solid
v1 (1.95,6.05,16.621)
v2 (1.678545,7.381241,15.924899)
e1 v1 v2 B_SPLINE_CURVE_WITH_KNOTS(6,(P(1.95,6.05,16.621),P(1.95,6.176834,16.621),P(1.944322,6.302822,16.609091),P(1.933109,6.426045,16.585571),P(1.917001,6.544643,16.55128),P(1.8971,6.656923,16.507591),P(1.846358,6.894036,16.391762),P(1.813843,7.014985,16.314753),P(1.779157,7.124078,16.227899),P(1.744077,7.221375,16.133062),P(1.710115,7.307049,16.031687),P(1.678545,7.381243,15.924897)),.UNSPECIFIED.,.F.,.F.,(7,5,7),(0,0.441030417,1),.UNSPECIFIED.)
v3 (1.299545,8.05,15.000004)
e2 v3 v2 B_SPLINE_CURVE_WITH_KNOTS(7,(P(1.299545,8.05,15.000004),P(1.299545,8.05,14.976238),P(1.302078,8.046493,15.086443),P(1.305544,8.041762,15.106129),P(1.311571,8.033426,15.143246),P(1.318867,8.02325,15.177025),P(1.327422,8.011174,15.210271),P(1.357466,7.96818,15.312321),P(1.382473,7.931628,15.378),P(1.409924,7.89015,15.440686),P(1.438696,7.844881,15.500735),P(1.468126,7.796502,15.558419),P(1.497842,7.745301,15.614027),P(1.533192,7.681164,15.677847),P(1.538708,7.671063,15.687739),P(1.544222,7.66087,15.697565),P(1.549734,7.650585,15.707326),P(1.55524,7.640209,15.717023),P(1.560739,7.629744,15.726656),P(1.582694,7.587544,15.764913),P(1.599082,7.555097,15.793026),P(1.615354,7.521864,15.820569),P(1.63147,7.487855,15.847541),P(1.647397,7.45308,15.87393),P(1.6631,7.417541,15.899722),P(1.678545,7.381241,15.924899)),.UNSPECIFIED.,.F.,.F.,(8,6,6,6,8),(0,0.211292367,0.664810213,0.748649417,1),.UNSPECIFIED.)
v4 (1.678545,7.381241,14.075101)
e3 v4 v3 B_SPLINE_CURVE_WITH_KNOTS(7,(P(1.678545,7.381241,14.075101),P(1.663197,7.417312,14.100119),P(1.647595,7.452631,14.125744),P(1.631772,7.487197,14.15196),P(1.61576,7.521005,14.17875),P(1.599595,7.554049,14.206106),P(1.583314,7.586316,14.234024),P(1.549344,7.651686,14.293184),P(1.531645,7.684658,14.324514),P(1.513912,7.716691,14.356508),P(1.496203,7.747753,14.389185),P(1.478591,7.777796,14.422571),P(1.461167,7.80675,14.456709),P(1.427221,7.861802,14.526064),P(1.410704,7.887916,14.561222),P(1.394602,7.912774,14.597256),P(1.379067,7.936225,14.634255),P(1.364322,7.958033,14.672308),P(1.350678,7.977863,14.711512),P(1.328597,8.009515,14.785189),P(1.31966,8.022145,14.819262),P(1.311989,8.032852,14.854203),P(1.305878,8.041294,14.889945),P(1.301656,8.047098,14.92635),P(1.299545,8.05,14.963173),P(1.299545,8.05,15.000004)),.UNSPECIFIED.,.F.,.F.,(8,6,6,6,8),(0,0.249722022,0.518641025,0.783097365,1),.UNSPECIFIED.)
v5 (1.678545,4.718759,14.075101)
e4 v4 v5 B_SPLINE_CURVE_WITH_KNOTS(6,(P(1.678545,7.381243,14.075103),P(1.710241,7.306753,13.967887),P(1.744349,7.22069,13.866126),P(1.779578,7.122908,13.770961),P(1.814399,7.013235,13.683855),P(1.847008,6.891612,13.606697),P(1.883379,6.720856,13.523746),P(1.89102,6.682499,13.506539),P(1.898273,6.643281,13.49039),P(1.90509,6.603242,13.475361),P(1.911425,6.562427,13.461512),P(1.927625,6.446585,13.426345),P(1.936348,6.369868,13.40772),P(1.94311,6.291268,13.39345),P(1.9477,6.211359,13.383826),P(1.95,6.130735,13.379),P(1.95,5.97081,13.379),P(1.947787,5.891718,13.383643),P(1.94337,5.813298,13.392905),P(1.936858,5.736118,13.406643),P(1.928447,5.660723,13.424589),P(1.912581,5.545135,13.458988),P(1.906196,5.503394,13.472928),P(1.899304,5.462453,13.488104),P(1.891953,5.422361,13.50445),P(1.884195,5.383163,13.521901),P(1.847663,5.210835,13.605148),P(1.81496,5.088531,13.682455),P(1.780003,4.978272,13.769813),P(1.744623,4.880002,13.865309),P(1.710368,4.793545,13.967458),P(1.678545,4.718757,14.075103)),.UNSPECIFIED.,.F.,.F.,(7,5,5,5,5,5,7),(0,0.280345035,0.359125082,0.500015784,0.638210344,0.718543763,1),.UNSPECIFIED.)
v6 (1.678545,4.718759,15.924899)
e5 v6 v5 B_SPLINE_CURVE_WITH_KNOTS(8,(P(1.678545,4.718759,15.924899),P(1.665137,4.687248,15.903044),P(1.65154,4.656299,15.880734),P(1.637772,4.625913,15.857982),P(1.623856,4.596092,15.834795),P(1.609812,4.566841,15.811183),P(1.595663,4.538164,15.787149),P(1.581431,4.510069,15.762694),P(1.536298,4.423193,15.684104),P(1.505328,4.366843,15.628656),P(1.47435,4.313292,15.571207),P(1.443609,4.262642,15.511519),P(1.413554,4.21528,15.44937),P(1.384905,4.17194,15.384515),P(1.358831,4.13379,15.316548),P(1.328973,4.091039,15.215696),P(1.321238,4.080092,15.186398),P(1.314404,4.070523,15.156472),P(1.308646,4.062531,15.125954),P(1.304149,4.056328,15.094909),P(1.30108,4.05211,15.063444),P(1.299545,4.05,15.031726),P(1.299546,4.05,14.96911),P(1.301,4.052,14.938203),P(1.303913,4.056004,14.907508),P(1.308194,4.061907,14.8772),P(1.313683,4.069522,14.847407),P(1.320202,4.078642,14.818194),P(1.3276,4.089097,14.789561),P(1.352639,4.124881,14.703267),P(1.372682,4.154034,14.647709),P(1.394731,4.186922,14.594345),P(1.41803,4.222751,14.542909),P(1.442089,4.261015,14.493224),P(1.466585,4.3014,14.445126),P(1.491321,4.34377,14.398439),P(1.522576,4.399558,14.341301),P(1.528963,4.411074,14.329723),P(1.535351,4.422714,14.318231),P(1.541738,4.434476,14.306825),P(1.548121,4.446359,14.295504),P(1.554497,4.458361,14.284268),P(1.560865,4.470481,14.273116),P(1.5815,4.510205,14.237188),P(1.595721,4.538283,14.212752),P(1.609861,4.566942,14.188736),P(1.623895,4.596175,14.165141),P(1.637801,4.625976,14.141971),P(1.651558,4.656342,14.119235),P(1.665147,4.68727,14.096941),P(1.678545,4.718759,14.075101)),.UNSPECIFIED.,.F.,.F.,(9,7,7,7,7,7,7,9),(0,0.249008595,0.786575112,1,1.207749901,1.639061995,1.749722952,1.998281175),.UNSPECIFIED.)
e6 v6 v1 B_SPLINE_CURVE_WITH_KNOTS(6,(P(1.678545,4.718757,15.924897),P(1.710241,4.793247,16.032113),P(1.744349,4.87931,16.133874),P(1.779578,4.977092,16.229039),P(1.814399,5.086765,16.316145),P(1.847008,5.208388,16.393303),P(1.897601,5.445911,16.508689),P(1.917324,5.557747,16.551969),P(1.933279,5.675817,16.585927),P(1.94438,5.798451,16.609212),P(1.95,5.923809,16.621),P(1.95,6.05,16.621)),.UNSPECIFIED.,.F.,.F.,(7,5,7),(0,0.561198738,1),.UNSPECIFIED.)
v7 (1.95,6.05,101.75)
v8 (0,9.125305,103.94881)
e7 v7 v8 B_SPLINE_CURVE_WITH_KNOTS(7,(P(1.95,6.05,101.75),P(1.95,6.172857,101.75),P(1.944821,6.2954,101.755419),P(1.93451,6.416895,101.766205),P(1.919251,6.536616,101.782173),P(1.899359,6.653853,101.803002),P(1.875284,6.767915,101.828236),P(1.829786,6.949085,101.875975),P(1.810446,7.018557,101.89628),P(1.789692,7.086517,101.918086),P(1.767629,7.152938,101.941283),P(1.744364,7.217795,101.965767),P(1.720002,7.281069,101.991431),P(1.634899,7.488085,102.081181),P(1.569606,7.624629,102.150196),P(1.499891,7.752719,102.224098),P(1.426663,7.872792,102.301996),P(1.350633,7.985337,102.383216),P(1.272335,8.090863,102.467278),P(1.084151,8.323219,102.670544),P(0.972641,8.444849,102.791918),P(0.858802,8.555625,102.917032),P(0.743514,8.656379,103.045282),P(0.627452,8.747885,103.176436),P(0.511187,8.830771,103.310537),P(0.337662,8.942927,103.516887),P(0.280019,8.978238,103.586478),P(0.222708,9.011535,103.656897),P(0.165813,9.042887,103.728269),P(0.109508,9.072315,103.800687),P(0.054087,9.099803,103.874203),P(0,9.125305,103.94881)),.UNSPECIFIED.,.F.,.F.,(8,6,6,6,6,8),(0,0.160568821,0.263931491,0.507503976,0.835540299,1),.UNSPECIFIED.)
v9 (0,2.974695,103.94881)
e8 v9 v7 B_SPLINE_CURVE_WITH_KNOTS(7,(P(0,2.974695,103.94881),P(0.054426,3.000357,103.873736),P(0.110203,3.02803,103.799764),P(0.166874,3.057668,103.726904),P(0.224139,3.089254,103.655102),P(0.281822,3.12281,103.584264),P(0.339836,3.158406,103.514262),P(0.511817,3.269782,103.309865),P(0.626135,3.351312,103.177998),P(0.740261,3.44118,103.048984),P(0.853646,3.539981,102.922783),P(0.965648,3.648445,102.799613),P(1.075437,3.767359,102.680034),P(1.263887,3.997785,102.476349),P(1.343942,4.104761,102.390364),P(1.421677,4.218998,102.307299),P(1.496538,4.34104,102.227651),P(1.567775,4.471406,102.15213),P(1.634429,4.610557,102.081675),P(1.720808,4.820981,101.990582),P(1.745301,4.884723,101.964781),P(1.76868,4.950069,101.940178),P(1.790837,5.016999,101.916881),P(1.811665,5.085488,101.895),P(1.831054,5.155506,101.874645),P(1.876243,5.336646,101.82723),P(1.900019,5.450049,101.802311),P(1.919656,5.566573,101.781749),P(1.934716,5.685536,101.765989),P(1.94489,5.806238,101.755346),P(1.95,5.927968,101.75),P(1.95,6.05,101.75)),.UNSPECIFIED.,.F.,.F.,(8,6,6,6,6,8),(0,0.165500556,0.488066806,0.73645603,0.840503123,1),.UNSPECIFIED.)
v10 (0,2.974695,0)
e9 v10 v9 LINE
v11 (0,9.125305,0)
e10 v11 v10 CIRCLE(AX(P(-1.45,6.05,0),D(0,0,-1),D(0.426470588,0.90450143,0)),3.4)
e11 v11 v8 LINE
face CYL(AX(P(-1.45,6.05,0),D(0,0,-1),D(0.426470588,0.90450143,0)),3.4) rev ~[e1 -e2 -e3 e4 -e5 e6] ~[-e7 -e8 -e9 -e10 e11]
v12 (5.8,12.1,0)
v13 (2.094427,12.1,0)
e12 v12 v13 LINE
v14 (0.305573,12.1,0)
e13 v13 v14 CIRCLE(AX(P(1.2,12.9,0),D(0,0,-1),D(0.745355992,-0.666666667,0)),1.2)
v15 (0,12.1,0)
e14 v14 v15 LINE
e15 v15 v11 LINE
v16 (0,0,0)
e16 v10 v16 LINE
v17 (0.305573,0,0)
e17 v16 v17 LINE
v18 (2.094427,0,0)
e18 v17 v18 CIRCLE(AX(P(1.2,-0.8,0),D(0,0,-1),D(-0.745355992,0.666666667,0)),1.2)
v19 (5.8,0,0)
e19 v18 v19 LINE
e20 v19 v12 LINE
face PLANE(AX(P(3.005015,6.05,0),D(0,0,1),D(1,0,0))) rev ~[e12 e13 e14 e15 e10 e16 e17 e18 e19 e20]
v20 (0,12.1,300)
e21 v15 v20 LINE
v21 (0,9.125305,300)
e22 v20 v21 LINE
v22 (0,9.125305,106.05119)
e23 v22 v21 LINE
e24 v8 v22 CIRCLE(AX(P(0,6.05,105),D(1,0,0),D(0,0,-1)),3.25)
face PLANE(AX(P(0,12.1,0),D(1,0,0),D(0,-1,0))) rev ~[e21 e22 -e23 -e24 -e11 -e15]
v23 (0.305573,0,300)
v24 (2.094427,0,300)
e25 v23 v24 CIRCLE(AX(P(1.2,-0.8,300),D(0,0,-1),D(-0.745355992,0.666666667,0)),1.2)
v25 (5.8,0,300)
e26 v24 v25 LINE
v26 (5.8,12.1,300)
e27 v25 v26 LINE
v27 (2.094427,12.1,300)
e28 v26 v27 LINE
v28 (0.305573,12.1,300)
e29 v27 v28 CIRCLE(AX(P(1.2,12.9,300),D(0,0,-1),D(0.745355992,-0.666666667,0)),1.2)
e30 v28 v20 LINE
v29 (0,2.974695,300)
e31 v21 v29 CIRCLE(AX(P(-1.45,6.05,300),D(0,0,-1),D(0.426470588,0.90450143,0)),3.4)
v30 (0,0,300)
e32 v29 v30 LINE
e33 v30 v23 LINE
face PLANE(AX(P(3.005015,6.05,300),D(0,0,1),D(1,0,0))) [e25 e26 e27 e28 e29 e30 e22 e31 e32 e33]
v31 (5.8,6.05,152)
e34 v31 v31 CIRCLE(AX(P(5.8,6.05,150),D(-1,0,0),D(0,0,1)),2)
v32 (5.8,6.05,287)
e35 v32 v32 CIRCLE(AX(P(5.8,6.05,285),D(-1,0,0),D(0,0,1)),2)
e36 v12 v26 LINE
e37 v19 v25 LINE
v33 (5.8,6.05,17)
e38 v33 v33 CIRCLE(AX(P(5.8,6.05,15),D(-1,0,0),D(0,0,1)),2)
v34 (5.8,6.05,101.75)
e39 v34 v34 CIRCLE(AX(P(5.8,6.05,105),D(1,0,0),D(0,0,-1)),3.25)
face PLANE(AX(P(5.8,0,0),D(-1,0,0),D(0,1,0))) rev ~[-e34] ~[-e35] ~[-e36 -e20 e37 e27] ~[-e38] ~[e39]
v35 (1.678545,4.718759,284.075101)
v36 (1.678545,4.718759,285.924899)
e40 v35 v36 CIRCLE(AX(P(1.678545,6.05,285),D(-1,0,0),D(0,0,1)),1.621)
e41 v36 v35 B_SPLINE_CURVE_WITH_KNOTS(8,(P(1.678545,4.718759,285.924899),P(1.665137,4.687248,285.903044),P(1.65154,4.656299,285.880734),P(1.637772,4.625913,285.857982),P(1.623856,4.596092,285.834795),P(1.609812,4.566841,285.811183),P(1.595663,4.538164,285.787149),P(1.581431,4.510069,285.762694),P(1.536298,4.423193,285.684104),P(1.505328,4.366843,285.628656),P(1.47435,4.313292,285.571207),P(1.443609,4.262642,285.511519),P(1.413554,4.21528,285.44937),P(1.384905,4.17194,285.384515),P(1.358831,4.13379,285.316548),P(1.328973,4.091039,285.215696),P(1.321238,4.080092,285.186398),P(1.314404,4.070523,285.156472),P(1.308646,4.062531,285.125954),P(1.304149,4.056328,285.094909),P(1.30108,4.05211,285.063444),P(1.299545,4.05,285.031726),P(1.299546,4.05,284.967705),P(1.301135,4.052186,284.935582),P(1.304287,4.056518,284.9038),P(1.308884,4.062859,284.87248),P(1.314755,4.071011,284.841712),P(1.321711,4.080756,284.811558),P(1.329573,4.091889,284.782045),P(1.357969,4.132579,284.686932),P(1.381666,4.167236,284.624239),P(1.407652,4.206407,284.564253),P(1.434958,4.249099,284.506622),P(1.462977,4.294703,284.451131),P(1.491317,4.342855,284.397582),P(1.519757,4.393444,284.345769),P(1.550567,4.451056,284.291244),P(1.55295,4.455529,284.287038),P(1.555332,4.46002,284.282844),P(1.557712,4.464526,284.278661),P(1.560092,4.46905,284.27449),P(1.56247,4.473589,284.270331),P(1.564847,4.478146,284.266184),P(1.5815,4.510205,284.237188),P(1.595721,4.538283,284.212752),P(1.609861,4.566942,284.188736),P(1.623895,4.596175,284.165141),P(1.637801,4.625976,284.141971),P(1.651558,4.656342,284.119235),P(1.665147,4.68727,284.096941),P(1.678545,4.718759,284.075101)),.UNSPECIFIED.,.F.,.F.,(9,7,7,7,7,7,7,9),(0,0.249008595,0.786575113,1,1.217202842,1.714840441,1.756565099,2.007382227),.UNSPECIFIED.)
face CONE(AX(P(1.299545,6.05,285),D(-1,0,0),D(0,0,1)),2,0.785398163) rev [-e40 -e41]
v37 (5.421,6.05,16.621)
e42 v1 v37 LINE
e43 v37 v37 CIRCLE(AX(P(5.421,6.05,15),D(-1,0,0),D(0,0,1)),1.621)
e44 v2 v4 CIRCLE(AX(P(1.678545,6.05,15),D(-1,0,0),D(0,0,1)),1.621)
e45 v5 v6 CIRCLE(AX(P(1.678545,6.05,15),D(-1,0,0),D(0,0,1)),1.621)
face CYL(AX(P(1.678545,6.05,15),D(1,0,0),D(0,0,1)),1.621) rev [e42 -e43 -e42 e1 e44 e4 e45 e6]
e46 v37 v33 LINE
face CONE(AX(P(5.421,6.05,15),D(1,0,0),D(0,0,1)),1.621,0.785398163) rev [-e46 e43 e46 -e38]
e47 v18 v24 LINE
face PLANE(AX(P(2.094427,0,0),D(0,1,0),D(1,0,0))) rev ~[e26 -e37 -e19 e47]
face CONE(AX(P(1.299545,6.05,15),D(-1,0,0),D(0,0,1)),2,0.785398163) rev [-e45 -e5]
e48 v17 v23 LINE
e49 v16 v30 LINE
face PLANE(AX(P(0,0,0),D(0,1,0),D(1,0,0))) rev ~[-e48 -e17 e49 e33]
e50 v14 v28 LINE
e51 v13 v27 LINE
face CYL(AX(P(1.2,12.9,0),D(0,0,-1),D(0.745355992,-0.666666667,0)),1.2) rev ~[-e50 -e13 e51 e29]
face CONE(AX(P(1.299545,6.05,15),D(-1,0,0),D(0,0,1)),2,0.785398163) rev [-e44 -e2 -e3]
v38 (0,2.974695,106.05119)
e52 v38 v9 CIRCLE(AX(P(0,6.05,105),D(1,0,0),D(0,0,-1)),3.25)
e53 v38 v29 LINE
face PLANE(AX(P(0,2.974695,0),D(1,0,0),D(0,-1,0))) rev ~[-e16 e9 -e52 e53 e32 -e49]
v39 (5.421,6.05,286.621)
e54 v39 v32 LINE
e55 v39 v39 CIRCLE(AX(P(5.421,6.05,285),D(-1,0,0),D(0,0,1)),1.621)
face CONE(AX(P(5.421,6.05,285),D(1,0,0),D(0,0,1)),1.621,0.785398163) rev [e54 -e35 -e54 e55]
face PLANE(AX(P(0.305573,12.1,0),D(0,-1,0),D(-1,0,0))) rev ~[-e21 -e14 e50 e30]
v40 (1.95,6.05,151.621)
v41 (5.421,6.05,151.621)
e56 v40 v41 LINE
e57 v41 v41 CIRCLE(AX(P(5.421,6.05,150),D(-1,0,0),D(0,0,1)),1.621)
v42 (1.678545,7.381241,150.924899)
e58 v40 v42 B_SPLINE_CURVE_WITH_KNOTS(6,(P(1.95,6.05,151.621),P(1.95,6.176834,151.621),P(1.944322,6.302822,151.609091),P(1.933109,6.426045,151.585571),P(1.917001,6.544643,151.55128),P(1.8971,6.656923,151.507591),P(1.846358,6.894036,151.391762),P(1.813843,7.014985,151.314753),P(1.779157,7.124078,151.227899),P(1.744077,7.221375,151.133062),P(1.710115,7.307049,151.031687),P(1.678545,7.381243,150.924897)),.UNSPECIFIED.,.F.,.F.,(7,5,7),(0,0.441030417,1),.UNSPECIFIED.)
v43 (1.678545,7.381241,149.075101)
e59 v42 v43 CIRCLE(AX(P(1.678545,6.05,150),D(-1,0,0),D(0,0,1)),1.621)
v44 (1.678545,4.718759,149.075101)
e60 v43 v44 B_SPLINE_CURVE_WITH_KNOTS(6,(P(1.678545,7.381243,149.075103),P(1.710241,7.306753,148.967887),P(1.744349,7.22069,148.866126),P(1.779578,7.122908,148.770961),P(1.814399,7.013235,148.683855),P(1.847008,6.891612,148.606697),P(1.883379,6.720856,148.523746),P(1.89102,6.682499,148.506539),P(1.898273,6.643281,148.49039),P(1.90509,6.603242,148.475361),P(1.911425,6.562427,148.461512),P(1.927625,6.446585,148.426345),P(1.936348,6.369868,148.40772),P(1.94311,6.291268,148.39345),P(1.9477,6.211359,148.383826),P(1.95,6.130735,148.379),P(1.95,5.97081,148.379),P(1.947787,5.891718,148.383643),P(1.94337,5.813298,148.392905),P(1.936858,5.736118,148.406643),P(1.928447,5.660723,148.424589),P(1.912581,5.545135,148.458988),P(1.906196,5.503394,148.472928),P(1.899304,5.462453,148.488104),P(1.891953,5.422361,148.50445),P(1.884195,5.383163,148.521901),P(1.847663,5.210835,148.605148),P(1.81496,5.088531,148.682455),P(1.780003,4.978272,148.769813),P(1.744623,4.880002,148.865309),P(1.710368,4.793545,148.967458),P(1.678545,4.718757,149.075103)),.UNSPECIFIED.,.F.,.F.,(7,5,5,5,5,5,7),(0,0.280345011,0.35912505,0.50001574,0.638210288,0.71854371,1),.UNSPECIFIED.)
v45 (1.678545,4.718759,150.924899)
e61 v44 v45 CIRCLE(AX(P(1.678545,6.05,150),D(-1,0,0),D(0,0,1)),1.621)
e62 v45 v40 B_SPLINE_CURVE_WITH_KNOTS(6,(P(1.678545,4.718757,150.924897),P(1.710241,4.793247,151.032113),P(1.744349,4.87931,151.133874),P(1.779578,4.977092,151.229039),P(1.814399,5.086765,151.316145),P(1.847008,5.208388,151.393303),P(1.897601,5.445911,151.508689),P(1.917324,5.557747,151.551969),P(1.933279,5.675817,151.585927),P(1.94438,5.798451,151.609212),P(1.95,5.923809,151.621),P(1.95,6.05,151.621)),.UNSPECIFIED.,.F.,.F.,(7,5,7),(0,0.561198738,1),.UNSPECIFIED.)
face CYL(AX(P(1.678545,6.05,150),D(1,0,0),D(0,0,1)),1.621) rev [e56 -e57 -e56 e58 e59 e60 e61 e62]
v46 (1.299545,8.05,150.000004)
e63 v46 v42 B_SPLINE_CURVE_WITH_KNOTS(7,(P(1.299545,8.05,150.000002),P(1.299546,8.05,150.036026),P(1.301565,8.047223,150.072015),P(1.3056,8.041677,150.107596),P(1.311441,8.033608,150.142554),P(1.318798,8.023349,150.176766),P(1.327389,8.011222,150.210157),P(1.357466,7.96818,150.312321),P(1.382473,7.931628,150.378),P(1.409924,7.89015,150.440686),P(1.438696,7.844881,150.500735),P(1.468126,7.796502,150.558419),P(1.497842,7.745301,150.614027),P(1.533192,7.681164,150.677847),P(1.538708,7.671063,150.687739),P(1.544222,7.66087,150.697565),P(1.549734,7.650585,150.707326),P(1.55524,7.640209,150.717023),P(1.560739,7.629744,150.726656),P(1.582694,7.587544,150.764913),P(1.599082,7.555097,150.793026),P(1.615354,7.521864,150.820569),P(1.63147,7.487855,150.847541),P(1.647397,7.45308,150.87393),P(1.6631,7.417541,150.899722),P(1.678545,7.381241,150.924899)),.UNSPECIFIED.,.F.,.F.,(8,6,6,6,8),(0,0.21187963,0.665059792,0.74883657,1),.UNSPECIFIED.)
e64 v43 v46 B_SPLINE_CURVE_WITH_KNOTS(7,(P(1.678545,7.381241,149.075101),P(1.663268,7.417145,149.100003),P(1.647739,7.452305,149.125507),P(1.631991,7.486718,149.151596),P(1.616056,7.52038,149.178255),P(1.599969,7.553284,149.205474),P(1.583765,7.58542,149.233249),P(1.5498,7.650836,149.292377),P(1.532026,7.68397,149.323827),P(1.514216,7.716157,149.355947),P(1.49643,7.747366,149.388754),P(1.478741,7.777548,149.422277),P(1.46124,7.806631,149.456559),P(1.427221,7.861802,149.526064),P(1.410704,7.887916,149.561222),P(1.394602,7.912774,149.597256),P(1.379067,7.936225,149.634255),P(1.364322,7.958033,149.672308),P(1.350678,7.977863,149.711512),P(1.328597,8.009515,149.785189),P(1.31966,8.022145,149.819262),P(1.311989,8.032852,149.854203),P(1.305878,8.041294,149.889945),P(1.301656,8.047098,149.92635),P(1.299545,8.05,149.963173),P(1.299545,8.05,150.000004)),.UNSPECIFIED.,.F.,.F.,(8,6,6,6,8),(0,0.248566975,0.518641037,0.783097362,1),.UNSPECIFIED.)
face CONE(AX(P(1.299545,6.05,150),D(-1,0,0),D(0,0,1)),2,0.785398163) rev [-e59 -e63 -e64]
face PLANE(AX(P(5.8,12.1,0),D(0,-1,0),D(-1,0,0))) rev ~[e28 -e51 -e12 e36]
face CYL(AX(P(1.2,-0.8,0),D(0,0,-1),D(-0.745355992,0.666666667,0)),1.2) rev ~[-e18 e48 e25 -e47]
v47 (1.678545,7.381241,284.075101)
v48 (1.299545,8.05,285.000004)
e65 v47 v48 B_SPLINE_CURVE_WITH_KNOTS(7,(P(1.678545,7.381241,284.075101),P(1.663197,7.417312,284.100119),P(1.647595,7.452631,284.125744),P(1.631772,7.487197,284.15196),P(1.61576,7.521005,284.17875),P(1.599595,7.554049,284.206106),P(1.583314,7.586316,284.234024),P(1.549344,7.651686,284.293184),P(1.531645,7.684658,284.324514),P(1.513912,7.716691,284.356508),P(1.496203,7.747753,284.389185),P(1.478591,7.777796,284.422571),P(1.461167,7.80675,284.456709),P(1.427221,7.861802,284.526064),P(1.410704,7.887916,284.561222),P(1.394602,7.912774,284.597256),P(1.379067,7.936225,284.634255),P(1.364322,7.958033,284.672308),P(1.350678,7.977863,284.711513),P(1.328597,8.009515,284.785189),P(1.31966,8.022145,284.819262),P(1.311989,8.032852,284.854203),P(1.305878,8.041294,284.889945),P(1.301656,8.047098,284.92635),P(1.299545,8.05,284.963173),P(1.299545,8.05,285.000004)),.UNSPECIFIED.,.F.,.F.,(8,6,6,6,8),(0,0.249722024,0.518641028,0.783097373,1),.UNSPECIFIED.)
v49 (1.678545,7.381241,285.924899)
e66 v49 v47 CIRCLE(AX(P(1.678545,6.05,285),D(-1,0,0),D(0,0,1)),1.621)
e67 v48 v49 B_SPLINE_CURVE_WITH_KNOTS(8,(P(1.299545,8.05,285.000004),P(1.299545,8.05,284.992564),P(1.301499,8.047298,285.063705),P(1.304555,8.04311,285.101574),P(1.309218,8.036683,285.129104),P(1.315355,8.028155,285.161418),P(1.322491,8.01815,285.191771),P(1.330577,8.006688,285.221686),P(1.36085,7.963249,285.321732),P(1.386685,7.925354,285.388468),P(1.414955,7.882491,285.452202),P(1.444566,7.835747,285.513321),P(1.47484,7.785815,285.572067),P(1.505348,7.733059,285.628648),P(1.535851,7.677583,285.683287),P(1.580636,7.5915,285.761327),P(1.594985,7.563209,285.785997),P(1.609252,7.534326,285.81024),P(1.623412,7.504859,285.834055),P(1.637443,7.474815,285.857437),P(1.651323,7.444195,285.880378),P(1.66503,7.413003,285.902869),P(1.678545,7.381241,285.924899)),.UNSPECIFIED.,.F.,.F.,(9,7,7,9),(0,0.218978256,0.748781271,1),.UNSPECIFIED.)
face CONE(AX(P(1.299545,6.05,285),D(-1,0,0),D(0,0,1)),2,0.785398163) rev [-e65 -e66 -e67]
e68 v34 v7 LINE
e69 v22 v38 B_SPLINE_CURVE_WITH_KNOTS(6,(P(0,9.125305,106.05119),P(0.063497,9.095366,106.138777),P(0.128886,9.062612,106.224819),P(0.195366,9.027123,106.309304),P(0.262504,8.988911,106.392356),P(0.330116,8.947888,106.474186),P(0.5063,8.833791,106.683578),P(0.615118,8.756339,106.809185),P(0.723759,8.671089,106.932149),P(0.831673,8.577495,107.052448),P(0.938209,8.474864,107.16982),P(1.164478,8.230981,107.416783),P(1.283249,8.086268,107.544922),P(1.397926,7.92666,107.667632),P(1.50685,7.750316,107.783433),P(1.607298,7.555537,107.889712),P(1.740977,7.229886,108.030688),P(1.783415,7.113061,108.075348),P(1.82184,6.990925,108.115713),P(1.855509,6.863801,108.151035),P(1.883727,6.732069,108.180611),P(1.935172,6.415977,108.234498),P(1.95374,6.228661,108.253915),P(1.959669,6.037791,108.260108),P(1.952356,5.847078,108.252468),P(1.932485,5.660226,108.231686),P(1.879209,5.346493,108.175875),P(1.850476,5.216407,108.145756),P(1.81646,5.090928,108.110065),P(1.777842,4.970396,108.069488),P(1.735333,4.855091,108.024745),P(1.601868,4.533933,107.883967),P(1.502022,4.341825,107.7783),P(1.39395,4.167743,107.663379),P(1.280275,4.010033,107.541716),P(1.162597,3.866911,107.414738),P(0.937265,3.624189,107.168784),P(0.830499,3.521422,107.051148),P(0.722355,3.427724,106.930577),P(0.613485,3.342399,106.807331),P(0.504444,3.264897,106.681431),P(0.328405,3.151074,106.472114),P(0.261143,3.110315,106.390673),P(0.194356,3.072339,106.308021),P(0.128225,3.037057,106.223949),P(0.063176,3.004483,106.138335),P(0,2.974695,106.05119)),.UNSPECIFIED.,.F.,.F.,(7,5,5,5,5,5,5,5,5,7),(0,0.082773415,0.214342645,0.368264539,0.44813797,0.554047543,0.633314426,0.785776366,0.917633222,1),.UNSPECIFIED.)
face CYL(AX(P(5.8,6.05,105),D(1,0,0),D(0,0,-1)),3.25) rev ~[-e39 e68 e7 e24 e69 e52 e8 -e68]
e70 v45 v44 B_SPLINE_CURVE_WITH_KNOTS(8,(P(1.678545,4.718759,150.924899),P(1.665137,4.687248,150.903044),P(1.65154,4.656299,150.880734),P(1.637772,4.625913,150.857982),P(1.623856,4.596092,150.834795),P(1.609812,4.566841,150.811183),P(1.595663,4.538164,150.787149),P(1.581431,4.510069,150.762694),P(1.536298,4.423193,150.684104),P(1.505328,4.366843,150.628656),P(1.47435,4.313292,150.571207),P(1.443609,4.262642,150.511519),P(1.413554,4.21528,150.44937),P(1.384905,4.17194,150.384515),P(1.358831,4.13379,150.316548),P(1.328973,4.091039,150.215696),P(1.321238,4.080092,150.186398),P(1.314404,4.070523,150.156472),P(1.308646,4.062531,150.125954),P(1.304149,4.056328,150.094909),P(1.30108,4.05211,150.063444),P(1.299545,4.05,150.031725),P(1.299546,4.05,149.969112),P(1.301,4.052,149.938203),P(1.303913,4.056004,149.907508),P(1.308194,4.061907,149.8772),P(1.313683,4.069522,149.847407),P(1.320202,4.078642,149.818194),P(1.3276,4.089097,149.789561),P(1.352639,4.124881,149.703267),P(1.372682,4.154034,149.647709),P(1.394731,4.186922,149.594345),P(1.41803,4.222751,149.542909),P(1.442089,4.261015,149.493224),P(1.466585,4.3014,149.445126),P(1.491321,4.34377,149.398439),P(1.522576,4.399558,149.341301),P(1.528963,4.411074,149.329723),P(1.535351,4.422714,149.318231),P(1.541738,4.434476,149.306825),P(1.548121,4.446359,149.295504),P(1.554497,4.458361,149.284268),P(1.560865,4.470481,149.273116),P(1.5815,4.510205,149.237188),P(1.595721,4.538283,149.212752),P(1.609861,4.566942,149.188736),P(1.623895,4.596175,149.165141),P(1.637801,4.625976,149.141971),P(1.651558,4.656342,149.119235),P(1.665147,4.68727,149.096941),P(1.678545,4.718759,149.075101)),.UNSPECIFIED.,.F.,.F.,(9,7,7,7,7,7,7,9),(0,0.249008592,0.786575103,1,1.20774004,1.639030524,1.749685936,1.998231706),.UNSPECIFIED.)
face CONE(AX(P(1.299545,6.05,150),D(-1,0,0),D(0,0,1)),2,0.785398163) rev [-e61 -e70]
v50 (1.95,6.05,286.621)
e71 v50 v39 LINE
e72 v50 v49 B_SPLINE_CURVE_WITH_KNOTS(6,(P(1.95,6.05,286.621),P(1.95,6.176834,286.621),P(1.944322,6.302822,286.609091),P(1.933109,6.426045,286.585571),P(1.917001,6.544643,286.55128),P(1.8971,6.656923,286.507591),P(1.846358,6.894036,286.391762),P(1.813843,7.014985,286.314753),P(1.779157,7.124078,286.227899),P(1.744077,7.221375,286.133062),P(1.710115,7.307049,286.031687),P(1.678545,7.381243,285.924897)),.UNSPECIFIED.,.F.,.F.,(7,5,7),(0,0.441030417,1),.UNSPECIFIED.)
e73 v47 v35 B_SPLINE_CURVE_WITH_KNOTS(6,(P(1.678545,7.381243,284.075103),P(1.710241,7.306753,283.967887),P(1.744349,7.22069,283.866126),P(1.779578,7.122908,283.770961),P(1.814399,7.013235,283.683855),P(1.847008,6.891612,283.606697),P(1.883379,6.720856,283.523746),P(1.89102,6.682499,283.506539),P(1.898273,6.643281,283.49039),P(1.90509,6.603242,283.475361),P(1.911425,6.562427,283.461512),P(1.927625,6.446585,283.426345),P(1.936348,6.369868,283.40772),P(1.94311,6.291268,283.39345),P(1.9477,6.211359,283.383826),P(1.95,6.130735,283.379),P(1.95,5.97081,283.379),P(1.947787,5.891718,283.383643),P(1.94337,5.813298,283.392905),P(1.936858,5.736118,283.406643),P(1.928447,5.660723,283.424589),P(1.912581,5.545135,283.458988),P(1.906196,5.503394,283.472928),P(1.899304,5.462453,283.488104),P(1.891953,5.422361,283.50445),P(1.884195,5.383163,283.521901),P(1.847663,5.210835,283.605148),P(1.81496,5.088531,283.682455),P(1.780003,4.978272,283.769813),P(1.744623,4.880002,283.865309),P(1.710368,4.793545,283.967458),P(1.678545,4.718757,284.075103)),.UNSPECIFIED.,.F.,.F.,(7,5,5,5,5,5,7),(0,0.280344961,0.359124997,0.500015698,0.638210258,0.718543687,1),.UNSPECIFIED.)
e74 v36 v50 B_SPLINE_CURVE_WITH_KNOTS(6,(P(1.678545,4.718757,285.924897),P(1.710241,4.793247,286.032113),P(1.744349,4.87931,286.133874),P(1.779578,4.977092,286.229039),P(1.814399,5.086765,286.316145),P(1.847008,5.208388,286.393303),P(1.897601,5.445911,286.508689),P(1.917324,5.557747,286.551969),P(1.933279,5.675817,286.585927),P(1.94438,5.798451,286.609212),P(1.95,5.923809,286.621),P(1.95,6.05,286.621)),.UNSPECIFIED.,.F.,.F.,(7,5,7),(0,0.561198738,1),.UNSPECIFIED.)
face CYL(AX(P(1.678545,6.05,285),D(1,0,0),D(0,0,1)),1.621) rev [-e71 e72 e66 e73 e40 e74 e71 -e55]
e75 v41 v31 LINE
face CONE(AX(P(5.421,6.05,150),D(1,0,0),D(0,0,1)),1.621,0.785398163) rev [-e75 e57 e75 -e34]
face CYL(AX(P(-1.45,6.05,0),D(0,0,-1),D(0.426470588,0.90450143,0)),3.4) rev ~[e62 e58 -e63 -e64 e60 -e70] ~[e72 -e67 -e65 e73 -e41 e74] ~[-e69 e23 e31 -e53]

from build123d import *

# Parameters (mm, degrees)
BOSS_EXTRUDE1_DEPTH = 300
SKETCH5_R           = 3.25
CUT_EXTRUDE1_DEPTH  = 6


with BuildPart() as part:
    # Sketch1 → Boss-Extrude1 (new body)
    with BuildSketch(Plane.XY):
        with BuildLine():
            Line((0, 2.974695137), (0, 0))
            Line((0, 0), (0.305572809, 0))
            ThreePointArc((0.305572809, 0), (1.2, 0.4), (2.094427191, 0))
            Line((2.094427191, 0), (5.8, 0))
            Line((5.8, 0), (5.8, 12.1))
            Line((5.8, 12.1), (2.094427191, 12.1))
            ThreePointArc((2.094427191, 12.1), (1.2, 11.7), (0.305572809, 12.1))
            Line((0.305572809, 12.1), (0, 12.1))
            Line((0, 12.1), (0, 9.125304863))
            ThreePointArc((0, 9.125304863), (1.95, 6.05), (0, 2.974695137))
        make_face()
    extrude(amount=BOSS_EXTRUDE1_DEPTH)

    # Sketch2 → Cut-Revolve1 (revolve, cut)
    with BuildSketch(Plane.XY.offset(15), mode=Mode.PRIVATE) as cut_revolve1_sk:
        Polygon((1.299545417, 6.05), (1.299545417, 8.05), (1.678545417, 7.671), (5.421, 7.671), (5.8, 8.05), (5.8, 6.05), align=None)
    revolve(cut_revolve1_sk.sketch.rotate(Axis((5.8, 6.05, 15), (-1, 0, 0)), 270), axis=Axis((5.8, 6.05, 15), (-1, 0, 0)), mode=Mode.SUBTRACT)

    # Sketch3 → Cut-Revolve2 (revolve, cut)
    with BuildSketch(Plane.XY.offset(285), mode=Mode.PRIVATE) as cut_revolve2_sk:
        Polygon((1.299545417, 6.05), (1.299545417, 8.05), (1.678545417, 7.671), (5.421, 7.671), (5.8, 8.05), (5.8, 6.05), align=None)
    revolve(cut_revolve2_sk.sketch.rotate(Axis((5.8, 6.05, 285), (-1, 0, 0)), 270), axis=Axis((5.8, 6.05, 285), (-1, 0, 0)), mode=Mode.SUBTRACT)

    # Sketch4 → Cut-Revolve3 (revolve, cut)
    with BuildSketch(Plane.XY.offset(150), mode=Mode.PRIVATE) as cut_revolve3_sk:
        Polygon((1.299545417, 6.05), (1.299545417, 8.05), (1.678545417, 7.671), (5.421, 7.671), (5.8, 8.05), (5.8, 6.05), align=None)
    revolve(cut_revolve3_sk.sketch.rotate(Axis((5.8, 6.05, 150), (-1, 0, 0)), 270), axis=Axis((5.8, 6.05, 150), (-1, 0, 0)), mode=Mode.SUBTRACT)

    # Sketch5 → Cut-Extrude1 (cut)
    with BuildSketch(Plane(origin=(5.8, 0, 0), x_dir=(0, 0, -1), z_dir=(1, 0, 0))):
        with Locations((-105, 6.05)):
            Circle(SKETCH5_R)
    extrude(amount=-CUT_EXTRUDE1_DEPTH, mode=Mode.SUBTRACT)


solid = part.part
